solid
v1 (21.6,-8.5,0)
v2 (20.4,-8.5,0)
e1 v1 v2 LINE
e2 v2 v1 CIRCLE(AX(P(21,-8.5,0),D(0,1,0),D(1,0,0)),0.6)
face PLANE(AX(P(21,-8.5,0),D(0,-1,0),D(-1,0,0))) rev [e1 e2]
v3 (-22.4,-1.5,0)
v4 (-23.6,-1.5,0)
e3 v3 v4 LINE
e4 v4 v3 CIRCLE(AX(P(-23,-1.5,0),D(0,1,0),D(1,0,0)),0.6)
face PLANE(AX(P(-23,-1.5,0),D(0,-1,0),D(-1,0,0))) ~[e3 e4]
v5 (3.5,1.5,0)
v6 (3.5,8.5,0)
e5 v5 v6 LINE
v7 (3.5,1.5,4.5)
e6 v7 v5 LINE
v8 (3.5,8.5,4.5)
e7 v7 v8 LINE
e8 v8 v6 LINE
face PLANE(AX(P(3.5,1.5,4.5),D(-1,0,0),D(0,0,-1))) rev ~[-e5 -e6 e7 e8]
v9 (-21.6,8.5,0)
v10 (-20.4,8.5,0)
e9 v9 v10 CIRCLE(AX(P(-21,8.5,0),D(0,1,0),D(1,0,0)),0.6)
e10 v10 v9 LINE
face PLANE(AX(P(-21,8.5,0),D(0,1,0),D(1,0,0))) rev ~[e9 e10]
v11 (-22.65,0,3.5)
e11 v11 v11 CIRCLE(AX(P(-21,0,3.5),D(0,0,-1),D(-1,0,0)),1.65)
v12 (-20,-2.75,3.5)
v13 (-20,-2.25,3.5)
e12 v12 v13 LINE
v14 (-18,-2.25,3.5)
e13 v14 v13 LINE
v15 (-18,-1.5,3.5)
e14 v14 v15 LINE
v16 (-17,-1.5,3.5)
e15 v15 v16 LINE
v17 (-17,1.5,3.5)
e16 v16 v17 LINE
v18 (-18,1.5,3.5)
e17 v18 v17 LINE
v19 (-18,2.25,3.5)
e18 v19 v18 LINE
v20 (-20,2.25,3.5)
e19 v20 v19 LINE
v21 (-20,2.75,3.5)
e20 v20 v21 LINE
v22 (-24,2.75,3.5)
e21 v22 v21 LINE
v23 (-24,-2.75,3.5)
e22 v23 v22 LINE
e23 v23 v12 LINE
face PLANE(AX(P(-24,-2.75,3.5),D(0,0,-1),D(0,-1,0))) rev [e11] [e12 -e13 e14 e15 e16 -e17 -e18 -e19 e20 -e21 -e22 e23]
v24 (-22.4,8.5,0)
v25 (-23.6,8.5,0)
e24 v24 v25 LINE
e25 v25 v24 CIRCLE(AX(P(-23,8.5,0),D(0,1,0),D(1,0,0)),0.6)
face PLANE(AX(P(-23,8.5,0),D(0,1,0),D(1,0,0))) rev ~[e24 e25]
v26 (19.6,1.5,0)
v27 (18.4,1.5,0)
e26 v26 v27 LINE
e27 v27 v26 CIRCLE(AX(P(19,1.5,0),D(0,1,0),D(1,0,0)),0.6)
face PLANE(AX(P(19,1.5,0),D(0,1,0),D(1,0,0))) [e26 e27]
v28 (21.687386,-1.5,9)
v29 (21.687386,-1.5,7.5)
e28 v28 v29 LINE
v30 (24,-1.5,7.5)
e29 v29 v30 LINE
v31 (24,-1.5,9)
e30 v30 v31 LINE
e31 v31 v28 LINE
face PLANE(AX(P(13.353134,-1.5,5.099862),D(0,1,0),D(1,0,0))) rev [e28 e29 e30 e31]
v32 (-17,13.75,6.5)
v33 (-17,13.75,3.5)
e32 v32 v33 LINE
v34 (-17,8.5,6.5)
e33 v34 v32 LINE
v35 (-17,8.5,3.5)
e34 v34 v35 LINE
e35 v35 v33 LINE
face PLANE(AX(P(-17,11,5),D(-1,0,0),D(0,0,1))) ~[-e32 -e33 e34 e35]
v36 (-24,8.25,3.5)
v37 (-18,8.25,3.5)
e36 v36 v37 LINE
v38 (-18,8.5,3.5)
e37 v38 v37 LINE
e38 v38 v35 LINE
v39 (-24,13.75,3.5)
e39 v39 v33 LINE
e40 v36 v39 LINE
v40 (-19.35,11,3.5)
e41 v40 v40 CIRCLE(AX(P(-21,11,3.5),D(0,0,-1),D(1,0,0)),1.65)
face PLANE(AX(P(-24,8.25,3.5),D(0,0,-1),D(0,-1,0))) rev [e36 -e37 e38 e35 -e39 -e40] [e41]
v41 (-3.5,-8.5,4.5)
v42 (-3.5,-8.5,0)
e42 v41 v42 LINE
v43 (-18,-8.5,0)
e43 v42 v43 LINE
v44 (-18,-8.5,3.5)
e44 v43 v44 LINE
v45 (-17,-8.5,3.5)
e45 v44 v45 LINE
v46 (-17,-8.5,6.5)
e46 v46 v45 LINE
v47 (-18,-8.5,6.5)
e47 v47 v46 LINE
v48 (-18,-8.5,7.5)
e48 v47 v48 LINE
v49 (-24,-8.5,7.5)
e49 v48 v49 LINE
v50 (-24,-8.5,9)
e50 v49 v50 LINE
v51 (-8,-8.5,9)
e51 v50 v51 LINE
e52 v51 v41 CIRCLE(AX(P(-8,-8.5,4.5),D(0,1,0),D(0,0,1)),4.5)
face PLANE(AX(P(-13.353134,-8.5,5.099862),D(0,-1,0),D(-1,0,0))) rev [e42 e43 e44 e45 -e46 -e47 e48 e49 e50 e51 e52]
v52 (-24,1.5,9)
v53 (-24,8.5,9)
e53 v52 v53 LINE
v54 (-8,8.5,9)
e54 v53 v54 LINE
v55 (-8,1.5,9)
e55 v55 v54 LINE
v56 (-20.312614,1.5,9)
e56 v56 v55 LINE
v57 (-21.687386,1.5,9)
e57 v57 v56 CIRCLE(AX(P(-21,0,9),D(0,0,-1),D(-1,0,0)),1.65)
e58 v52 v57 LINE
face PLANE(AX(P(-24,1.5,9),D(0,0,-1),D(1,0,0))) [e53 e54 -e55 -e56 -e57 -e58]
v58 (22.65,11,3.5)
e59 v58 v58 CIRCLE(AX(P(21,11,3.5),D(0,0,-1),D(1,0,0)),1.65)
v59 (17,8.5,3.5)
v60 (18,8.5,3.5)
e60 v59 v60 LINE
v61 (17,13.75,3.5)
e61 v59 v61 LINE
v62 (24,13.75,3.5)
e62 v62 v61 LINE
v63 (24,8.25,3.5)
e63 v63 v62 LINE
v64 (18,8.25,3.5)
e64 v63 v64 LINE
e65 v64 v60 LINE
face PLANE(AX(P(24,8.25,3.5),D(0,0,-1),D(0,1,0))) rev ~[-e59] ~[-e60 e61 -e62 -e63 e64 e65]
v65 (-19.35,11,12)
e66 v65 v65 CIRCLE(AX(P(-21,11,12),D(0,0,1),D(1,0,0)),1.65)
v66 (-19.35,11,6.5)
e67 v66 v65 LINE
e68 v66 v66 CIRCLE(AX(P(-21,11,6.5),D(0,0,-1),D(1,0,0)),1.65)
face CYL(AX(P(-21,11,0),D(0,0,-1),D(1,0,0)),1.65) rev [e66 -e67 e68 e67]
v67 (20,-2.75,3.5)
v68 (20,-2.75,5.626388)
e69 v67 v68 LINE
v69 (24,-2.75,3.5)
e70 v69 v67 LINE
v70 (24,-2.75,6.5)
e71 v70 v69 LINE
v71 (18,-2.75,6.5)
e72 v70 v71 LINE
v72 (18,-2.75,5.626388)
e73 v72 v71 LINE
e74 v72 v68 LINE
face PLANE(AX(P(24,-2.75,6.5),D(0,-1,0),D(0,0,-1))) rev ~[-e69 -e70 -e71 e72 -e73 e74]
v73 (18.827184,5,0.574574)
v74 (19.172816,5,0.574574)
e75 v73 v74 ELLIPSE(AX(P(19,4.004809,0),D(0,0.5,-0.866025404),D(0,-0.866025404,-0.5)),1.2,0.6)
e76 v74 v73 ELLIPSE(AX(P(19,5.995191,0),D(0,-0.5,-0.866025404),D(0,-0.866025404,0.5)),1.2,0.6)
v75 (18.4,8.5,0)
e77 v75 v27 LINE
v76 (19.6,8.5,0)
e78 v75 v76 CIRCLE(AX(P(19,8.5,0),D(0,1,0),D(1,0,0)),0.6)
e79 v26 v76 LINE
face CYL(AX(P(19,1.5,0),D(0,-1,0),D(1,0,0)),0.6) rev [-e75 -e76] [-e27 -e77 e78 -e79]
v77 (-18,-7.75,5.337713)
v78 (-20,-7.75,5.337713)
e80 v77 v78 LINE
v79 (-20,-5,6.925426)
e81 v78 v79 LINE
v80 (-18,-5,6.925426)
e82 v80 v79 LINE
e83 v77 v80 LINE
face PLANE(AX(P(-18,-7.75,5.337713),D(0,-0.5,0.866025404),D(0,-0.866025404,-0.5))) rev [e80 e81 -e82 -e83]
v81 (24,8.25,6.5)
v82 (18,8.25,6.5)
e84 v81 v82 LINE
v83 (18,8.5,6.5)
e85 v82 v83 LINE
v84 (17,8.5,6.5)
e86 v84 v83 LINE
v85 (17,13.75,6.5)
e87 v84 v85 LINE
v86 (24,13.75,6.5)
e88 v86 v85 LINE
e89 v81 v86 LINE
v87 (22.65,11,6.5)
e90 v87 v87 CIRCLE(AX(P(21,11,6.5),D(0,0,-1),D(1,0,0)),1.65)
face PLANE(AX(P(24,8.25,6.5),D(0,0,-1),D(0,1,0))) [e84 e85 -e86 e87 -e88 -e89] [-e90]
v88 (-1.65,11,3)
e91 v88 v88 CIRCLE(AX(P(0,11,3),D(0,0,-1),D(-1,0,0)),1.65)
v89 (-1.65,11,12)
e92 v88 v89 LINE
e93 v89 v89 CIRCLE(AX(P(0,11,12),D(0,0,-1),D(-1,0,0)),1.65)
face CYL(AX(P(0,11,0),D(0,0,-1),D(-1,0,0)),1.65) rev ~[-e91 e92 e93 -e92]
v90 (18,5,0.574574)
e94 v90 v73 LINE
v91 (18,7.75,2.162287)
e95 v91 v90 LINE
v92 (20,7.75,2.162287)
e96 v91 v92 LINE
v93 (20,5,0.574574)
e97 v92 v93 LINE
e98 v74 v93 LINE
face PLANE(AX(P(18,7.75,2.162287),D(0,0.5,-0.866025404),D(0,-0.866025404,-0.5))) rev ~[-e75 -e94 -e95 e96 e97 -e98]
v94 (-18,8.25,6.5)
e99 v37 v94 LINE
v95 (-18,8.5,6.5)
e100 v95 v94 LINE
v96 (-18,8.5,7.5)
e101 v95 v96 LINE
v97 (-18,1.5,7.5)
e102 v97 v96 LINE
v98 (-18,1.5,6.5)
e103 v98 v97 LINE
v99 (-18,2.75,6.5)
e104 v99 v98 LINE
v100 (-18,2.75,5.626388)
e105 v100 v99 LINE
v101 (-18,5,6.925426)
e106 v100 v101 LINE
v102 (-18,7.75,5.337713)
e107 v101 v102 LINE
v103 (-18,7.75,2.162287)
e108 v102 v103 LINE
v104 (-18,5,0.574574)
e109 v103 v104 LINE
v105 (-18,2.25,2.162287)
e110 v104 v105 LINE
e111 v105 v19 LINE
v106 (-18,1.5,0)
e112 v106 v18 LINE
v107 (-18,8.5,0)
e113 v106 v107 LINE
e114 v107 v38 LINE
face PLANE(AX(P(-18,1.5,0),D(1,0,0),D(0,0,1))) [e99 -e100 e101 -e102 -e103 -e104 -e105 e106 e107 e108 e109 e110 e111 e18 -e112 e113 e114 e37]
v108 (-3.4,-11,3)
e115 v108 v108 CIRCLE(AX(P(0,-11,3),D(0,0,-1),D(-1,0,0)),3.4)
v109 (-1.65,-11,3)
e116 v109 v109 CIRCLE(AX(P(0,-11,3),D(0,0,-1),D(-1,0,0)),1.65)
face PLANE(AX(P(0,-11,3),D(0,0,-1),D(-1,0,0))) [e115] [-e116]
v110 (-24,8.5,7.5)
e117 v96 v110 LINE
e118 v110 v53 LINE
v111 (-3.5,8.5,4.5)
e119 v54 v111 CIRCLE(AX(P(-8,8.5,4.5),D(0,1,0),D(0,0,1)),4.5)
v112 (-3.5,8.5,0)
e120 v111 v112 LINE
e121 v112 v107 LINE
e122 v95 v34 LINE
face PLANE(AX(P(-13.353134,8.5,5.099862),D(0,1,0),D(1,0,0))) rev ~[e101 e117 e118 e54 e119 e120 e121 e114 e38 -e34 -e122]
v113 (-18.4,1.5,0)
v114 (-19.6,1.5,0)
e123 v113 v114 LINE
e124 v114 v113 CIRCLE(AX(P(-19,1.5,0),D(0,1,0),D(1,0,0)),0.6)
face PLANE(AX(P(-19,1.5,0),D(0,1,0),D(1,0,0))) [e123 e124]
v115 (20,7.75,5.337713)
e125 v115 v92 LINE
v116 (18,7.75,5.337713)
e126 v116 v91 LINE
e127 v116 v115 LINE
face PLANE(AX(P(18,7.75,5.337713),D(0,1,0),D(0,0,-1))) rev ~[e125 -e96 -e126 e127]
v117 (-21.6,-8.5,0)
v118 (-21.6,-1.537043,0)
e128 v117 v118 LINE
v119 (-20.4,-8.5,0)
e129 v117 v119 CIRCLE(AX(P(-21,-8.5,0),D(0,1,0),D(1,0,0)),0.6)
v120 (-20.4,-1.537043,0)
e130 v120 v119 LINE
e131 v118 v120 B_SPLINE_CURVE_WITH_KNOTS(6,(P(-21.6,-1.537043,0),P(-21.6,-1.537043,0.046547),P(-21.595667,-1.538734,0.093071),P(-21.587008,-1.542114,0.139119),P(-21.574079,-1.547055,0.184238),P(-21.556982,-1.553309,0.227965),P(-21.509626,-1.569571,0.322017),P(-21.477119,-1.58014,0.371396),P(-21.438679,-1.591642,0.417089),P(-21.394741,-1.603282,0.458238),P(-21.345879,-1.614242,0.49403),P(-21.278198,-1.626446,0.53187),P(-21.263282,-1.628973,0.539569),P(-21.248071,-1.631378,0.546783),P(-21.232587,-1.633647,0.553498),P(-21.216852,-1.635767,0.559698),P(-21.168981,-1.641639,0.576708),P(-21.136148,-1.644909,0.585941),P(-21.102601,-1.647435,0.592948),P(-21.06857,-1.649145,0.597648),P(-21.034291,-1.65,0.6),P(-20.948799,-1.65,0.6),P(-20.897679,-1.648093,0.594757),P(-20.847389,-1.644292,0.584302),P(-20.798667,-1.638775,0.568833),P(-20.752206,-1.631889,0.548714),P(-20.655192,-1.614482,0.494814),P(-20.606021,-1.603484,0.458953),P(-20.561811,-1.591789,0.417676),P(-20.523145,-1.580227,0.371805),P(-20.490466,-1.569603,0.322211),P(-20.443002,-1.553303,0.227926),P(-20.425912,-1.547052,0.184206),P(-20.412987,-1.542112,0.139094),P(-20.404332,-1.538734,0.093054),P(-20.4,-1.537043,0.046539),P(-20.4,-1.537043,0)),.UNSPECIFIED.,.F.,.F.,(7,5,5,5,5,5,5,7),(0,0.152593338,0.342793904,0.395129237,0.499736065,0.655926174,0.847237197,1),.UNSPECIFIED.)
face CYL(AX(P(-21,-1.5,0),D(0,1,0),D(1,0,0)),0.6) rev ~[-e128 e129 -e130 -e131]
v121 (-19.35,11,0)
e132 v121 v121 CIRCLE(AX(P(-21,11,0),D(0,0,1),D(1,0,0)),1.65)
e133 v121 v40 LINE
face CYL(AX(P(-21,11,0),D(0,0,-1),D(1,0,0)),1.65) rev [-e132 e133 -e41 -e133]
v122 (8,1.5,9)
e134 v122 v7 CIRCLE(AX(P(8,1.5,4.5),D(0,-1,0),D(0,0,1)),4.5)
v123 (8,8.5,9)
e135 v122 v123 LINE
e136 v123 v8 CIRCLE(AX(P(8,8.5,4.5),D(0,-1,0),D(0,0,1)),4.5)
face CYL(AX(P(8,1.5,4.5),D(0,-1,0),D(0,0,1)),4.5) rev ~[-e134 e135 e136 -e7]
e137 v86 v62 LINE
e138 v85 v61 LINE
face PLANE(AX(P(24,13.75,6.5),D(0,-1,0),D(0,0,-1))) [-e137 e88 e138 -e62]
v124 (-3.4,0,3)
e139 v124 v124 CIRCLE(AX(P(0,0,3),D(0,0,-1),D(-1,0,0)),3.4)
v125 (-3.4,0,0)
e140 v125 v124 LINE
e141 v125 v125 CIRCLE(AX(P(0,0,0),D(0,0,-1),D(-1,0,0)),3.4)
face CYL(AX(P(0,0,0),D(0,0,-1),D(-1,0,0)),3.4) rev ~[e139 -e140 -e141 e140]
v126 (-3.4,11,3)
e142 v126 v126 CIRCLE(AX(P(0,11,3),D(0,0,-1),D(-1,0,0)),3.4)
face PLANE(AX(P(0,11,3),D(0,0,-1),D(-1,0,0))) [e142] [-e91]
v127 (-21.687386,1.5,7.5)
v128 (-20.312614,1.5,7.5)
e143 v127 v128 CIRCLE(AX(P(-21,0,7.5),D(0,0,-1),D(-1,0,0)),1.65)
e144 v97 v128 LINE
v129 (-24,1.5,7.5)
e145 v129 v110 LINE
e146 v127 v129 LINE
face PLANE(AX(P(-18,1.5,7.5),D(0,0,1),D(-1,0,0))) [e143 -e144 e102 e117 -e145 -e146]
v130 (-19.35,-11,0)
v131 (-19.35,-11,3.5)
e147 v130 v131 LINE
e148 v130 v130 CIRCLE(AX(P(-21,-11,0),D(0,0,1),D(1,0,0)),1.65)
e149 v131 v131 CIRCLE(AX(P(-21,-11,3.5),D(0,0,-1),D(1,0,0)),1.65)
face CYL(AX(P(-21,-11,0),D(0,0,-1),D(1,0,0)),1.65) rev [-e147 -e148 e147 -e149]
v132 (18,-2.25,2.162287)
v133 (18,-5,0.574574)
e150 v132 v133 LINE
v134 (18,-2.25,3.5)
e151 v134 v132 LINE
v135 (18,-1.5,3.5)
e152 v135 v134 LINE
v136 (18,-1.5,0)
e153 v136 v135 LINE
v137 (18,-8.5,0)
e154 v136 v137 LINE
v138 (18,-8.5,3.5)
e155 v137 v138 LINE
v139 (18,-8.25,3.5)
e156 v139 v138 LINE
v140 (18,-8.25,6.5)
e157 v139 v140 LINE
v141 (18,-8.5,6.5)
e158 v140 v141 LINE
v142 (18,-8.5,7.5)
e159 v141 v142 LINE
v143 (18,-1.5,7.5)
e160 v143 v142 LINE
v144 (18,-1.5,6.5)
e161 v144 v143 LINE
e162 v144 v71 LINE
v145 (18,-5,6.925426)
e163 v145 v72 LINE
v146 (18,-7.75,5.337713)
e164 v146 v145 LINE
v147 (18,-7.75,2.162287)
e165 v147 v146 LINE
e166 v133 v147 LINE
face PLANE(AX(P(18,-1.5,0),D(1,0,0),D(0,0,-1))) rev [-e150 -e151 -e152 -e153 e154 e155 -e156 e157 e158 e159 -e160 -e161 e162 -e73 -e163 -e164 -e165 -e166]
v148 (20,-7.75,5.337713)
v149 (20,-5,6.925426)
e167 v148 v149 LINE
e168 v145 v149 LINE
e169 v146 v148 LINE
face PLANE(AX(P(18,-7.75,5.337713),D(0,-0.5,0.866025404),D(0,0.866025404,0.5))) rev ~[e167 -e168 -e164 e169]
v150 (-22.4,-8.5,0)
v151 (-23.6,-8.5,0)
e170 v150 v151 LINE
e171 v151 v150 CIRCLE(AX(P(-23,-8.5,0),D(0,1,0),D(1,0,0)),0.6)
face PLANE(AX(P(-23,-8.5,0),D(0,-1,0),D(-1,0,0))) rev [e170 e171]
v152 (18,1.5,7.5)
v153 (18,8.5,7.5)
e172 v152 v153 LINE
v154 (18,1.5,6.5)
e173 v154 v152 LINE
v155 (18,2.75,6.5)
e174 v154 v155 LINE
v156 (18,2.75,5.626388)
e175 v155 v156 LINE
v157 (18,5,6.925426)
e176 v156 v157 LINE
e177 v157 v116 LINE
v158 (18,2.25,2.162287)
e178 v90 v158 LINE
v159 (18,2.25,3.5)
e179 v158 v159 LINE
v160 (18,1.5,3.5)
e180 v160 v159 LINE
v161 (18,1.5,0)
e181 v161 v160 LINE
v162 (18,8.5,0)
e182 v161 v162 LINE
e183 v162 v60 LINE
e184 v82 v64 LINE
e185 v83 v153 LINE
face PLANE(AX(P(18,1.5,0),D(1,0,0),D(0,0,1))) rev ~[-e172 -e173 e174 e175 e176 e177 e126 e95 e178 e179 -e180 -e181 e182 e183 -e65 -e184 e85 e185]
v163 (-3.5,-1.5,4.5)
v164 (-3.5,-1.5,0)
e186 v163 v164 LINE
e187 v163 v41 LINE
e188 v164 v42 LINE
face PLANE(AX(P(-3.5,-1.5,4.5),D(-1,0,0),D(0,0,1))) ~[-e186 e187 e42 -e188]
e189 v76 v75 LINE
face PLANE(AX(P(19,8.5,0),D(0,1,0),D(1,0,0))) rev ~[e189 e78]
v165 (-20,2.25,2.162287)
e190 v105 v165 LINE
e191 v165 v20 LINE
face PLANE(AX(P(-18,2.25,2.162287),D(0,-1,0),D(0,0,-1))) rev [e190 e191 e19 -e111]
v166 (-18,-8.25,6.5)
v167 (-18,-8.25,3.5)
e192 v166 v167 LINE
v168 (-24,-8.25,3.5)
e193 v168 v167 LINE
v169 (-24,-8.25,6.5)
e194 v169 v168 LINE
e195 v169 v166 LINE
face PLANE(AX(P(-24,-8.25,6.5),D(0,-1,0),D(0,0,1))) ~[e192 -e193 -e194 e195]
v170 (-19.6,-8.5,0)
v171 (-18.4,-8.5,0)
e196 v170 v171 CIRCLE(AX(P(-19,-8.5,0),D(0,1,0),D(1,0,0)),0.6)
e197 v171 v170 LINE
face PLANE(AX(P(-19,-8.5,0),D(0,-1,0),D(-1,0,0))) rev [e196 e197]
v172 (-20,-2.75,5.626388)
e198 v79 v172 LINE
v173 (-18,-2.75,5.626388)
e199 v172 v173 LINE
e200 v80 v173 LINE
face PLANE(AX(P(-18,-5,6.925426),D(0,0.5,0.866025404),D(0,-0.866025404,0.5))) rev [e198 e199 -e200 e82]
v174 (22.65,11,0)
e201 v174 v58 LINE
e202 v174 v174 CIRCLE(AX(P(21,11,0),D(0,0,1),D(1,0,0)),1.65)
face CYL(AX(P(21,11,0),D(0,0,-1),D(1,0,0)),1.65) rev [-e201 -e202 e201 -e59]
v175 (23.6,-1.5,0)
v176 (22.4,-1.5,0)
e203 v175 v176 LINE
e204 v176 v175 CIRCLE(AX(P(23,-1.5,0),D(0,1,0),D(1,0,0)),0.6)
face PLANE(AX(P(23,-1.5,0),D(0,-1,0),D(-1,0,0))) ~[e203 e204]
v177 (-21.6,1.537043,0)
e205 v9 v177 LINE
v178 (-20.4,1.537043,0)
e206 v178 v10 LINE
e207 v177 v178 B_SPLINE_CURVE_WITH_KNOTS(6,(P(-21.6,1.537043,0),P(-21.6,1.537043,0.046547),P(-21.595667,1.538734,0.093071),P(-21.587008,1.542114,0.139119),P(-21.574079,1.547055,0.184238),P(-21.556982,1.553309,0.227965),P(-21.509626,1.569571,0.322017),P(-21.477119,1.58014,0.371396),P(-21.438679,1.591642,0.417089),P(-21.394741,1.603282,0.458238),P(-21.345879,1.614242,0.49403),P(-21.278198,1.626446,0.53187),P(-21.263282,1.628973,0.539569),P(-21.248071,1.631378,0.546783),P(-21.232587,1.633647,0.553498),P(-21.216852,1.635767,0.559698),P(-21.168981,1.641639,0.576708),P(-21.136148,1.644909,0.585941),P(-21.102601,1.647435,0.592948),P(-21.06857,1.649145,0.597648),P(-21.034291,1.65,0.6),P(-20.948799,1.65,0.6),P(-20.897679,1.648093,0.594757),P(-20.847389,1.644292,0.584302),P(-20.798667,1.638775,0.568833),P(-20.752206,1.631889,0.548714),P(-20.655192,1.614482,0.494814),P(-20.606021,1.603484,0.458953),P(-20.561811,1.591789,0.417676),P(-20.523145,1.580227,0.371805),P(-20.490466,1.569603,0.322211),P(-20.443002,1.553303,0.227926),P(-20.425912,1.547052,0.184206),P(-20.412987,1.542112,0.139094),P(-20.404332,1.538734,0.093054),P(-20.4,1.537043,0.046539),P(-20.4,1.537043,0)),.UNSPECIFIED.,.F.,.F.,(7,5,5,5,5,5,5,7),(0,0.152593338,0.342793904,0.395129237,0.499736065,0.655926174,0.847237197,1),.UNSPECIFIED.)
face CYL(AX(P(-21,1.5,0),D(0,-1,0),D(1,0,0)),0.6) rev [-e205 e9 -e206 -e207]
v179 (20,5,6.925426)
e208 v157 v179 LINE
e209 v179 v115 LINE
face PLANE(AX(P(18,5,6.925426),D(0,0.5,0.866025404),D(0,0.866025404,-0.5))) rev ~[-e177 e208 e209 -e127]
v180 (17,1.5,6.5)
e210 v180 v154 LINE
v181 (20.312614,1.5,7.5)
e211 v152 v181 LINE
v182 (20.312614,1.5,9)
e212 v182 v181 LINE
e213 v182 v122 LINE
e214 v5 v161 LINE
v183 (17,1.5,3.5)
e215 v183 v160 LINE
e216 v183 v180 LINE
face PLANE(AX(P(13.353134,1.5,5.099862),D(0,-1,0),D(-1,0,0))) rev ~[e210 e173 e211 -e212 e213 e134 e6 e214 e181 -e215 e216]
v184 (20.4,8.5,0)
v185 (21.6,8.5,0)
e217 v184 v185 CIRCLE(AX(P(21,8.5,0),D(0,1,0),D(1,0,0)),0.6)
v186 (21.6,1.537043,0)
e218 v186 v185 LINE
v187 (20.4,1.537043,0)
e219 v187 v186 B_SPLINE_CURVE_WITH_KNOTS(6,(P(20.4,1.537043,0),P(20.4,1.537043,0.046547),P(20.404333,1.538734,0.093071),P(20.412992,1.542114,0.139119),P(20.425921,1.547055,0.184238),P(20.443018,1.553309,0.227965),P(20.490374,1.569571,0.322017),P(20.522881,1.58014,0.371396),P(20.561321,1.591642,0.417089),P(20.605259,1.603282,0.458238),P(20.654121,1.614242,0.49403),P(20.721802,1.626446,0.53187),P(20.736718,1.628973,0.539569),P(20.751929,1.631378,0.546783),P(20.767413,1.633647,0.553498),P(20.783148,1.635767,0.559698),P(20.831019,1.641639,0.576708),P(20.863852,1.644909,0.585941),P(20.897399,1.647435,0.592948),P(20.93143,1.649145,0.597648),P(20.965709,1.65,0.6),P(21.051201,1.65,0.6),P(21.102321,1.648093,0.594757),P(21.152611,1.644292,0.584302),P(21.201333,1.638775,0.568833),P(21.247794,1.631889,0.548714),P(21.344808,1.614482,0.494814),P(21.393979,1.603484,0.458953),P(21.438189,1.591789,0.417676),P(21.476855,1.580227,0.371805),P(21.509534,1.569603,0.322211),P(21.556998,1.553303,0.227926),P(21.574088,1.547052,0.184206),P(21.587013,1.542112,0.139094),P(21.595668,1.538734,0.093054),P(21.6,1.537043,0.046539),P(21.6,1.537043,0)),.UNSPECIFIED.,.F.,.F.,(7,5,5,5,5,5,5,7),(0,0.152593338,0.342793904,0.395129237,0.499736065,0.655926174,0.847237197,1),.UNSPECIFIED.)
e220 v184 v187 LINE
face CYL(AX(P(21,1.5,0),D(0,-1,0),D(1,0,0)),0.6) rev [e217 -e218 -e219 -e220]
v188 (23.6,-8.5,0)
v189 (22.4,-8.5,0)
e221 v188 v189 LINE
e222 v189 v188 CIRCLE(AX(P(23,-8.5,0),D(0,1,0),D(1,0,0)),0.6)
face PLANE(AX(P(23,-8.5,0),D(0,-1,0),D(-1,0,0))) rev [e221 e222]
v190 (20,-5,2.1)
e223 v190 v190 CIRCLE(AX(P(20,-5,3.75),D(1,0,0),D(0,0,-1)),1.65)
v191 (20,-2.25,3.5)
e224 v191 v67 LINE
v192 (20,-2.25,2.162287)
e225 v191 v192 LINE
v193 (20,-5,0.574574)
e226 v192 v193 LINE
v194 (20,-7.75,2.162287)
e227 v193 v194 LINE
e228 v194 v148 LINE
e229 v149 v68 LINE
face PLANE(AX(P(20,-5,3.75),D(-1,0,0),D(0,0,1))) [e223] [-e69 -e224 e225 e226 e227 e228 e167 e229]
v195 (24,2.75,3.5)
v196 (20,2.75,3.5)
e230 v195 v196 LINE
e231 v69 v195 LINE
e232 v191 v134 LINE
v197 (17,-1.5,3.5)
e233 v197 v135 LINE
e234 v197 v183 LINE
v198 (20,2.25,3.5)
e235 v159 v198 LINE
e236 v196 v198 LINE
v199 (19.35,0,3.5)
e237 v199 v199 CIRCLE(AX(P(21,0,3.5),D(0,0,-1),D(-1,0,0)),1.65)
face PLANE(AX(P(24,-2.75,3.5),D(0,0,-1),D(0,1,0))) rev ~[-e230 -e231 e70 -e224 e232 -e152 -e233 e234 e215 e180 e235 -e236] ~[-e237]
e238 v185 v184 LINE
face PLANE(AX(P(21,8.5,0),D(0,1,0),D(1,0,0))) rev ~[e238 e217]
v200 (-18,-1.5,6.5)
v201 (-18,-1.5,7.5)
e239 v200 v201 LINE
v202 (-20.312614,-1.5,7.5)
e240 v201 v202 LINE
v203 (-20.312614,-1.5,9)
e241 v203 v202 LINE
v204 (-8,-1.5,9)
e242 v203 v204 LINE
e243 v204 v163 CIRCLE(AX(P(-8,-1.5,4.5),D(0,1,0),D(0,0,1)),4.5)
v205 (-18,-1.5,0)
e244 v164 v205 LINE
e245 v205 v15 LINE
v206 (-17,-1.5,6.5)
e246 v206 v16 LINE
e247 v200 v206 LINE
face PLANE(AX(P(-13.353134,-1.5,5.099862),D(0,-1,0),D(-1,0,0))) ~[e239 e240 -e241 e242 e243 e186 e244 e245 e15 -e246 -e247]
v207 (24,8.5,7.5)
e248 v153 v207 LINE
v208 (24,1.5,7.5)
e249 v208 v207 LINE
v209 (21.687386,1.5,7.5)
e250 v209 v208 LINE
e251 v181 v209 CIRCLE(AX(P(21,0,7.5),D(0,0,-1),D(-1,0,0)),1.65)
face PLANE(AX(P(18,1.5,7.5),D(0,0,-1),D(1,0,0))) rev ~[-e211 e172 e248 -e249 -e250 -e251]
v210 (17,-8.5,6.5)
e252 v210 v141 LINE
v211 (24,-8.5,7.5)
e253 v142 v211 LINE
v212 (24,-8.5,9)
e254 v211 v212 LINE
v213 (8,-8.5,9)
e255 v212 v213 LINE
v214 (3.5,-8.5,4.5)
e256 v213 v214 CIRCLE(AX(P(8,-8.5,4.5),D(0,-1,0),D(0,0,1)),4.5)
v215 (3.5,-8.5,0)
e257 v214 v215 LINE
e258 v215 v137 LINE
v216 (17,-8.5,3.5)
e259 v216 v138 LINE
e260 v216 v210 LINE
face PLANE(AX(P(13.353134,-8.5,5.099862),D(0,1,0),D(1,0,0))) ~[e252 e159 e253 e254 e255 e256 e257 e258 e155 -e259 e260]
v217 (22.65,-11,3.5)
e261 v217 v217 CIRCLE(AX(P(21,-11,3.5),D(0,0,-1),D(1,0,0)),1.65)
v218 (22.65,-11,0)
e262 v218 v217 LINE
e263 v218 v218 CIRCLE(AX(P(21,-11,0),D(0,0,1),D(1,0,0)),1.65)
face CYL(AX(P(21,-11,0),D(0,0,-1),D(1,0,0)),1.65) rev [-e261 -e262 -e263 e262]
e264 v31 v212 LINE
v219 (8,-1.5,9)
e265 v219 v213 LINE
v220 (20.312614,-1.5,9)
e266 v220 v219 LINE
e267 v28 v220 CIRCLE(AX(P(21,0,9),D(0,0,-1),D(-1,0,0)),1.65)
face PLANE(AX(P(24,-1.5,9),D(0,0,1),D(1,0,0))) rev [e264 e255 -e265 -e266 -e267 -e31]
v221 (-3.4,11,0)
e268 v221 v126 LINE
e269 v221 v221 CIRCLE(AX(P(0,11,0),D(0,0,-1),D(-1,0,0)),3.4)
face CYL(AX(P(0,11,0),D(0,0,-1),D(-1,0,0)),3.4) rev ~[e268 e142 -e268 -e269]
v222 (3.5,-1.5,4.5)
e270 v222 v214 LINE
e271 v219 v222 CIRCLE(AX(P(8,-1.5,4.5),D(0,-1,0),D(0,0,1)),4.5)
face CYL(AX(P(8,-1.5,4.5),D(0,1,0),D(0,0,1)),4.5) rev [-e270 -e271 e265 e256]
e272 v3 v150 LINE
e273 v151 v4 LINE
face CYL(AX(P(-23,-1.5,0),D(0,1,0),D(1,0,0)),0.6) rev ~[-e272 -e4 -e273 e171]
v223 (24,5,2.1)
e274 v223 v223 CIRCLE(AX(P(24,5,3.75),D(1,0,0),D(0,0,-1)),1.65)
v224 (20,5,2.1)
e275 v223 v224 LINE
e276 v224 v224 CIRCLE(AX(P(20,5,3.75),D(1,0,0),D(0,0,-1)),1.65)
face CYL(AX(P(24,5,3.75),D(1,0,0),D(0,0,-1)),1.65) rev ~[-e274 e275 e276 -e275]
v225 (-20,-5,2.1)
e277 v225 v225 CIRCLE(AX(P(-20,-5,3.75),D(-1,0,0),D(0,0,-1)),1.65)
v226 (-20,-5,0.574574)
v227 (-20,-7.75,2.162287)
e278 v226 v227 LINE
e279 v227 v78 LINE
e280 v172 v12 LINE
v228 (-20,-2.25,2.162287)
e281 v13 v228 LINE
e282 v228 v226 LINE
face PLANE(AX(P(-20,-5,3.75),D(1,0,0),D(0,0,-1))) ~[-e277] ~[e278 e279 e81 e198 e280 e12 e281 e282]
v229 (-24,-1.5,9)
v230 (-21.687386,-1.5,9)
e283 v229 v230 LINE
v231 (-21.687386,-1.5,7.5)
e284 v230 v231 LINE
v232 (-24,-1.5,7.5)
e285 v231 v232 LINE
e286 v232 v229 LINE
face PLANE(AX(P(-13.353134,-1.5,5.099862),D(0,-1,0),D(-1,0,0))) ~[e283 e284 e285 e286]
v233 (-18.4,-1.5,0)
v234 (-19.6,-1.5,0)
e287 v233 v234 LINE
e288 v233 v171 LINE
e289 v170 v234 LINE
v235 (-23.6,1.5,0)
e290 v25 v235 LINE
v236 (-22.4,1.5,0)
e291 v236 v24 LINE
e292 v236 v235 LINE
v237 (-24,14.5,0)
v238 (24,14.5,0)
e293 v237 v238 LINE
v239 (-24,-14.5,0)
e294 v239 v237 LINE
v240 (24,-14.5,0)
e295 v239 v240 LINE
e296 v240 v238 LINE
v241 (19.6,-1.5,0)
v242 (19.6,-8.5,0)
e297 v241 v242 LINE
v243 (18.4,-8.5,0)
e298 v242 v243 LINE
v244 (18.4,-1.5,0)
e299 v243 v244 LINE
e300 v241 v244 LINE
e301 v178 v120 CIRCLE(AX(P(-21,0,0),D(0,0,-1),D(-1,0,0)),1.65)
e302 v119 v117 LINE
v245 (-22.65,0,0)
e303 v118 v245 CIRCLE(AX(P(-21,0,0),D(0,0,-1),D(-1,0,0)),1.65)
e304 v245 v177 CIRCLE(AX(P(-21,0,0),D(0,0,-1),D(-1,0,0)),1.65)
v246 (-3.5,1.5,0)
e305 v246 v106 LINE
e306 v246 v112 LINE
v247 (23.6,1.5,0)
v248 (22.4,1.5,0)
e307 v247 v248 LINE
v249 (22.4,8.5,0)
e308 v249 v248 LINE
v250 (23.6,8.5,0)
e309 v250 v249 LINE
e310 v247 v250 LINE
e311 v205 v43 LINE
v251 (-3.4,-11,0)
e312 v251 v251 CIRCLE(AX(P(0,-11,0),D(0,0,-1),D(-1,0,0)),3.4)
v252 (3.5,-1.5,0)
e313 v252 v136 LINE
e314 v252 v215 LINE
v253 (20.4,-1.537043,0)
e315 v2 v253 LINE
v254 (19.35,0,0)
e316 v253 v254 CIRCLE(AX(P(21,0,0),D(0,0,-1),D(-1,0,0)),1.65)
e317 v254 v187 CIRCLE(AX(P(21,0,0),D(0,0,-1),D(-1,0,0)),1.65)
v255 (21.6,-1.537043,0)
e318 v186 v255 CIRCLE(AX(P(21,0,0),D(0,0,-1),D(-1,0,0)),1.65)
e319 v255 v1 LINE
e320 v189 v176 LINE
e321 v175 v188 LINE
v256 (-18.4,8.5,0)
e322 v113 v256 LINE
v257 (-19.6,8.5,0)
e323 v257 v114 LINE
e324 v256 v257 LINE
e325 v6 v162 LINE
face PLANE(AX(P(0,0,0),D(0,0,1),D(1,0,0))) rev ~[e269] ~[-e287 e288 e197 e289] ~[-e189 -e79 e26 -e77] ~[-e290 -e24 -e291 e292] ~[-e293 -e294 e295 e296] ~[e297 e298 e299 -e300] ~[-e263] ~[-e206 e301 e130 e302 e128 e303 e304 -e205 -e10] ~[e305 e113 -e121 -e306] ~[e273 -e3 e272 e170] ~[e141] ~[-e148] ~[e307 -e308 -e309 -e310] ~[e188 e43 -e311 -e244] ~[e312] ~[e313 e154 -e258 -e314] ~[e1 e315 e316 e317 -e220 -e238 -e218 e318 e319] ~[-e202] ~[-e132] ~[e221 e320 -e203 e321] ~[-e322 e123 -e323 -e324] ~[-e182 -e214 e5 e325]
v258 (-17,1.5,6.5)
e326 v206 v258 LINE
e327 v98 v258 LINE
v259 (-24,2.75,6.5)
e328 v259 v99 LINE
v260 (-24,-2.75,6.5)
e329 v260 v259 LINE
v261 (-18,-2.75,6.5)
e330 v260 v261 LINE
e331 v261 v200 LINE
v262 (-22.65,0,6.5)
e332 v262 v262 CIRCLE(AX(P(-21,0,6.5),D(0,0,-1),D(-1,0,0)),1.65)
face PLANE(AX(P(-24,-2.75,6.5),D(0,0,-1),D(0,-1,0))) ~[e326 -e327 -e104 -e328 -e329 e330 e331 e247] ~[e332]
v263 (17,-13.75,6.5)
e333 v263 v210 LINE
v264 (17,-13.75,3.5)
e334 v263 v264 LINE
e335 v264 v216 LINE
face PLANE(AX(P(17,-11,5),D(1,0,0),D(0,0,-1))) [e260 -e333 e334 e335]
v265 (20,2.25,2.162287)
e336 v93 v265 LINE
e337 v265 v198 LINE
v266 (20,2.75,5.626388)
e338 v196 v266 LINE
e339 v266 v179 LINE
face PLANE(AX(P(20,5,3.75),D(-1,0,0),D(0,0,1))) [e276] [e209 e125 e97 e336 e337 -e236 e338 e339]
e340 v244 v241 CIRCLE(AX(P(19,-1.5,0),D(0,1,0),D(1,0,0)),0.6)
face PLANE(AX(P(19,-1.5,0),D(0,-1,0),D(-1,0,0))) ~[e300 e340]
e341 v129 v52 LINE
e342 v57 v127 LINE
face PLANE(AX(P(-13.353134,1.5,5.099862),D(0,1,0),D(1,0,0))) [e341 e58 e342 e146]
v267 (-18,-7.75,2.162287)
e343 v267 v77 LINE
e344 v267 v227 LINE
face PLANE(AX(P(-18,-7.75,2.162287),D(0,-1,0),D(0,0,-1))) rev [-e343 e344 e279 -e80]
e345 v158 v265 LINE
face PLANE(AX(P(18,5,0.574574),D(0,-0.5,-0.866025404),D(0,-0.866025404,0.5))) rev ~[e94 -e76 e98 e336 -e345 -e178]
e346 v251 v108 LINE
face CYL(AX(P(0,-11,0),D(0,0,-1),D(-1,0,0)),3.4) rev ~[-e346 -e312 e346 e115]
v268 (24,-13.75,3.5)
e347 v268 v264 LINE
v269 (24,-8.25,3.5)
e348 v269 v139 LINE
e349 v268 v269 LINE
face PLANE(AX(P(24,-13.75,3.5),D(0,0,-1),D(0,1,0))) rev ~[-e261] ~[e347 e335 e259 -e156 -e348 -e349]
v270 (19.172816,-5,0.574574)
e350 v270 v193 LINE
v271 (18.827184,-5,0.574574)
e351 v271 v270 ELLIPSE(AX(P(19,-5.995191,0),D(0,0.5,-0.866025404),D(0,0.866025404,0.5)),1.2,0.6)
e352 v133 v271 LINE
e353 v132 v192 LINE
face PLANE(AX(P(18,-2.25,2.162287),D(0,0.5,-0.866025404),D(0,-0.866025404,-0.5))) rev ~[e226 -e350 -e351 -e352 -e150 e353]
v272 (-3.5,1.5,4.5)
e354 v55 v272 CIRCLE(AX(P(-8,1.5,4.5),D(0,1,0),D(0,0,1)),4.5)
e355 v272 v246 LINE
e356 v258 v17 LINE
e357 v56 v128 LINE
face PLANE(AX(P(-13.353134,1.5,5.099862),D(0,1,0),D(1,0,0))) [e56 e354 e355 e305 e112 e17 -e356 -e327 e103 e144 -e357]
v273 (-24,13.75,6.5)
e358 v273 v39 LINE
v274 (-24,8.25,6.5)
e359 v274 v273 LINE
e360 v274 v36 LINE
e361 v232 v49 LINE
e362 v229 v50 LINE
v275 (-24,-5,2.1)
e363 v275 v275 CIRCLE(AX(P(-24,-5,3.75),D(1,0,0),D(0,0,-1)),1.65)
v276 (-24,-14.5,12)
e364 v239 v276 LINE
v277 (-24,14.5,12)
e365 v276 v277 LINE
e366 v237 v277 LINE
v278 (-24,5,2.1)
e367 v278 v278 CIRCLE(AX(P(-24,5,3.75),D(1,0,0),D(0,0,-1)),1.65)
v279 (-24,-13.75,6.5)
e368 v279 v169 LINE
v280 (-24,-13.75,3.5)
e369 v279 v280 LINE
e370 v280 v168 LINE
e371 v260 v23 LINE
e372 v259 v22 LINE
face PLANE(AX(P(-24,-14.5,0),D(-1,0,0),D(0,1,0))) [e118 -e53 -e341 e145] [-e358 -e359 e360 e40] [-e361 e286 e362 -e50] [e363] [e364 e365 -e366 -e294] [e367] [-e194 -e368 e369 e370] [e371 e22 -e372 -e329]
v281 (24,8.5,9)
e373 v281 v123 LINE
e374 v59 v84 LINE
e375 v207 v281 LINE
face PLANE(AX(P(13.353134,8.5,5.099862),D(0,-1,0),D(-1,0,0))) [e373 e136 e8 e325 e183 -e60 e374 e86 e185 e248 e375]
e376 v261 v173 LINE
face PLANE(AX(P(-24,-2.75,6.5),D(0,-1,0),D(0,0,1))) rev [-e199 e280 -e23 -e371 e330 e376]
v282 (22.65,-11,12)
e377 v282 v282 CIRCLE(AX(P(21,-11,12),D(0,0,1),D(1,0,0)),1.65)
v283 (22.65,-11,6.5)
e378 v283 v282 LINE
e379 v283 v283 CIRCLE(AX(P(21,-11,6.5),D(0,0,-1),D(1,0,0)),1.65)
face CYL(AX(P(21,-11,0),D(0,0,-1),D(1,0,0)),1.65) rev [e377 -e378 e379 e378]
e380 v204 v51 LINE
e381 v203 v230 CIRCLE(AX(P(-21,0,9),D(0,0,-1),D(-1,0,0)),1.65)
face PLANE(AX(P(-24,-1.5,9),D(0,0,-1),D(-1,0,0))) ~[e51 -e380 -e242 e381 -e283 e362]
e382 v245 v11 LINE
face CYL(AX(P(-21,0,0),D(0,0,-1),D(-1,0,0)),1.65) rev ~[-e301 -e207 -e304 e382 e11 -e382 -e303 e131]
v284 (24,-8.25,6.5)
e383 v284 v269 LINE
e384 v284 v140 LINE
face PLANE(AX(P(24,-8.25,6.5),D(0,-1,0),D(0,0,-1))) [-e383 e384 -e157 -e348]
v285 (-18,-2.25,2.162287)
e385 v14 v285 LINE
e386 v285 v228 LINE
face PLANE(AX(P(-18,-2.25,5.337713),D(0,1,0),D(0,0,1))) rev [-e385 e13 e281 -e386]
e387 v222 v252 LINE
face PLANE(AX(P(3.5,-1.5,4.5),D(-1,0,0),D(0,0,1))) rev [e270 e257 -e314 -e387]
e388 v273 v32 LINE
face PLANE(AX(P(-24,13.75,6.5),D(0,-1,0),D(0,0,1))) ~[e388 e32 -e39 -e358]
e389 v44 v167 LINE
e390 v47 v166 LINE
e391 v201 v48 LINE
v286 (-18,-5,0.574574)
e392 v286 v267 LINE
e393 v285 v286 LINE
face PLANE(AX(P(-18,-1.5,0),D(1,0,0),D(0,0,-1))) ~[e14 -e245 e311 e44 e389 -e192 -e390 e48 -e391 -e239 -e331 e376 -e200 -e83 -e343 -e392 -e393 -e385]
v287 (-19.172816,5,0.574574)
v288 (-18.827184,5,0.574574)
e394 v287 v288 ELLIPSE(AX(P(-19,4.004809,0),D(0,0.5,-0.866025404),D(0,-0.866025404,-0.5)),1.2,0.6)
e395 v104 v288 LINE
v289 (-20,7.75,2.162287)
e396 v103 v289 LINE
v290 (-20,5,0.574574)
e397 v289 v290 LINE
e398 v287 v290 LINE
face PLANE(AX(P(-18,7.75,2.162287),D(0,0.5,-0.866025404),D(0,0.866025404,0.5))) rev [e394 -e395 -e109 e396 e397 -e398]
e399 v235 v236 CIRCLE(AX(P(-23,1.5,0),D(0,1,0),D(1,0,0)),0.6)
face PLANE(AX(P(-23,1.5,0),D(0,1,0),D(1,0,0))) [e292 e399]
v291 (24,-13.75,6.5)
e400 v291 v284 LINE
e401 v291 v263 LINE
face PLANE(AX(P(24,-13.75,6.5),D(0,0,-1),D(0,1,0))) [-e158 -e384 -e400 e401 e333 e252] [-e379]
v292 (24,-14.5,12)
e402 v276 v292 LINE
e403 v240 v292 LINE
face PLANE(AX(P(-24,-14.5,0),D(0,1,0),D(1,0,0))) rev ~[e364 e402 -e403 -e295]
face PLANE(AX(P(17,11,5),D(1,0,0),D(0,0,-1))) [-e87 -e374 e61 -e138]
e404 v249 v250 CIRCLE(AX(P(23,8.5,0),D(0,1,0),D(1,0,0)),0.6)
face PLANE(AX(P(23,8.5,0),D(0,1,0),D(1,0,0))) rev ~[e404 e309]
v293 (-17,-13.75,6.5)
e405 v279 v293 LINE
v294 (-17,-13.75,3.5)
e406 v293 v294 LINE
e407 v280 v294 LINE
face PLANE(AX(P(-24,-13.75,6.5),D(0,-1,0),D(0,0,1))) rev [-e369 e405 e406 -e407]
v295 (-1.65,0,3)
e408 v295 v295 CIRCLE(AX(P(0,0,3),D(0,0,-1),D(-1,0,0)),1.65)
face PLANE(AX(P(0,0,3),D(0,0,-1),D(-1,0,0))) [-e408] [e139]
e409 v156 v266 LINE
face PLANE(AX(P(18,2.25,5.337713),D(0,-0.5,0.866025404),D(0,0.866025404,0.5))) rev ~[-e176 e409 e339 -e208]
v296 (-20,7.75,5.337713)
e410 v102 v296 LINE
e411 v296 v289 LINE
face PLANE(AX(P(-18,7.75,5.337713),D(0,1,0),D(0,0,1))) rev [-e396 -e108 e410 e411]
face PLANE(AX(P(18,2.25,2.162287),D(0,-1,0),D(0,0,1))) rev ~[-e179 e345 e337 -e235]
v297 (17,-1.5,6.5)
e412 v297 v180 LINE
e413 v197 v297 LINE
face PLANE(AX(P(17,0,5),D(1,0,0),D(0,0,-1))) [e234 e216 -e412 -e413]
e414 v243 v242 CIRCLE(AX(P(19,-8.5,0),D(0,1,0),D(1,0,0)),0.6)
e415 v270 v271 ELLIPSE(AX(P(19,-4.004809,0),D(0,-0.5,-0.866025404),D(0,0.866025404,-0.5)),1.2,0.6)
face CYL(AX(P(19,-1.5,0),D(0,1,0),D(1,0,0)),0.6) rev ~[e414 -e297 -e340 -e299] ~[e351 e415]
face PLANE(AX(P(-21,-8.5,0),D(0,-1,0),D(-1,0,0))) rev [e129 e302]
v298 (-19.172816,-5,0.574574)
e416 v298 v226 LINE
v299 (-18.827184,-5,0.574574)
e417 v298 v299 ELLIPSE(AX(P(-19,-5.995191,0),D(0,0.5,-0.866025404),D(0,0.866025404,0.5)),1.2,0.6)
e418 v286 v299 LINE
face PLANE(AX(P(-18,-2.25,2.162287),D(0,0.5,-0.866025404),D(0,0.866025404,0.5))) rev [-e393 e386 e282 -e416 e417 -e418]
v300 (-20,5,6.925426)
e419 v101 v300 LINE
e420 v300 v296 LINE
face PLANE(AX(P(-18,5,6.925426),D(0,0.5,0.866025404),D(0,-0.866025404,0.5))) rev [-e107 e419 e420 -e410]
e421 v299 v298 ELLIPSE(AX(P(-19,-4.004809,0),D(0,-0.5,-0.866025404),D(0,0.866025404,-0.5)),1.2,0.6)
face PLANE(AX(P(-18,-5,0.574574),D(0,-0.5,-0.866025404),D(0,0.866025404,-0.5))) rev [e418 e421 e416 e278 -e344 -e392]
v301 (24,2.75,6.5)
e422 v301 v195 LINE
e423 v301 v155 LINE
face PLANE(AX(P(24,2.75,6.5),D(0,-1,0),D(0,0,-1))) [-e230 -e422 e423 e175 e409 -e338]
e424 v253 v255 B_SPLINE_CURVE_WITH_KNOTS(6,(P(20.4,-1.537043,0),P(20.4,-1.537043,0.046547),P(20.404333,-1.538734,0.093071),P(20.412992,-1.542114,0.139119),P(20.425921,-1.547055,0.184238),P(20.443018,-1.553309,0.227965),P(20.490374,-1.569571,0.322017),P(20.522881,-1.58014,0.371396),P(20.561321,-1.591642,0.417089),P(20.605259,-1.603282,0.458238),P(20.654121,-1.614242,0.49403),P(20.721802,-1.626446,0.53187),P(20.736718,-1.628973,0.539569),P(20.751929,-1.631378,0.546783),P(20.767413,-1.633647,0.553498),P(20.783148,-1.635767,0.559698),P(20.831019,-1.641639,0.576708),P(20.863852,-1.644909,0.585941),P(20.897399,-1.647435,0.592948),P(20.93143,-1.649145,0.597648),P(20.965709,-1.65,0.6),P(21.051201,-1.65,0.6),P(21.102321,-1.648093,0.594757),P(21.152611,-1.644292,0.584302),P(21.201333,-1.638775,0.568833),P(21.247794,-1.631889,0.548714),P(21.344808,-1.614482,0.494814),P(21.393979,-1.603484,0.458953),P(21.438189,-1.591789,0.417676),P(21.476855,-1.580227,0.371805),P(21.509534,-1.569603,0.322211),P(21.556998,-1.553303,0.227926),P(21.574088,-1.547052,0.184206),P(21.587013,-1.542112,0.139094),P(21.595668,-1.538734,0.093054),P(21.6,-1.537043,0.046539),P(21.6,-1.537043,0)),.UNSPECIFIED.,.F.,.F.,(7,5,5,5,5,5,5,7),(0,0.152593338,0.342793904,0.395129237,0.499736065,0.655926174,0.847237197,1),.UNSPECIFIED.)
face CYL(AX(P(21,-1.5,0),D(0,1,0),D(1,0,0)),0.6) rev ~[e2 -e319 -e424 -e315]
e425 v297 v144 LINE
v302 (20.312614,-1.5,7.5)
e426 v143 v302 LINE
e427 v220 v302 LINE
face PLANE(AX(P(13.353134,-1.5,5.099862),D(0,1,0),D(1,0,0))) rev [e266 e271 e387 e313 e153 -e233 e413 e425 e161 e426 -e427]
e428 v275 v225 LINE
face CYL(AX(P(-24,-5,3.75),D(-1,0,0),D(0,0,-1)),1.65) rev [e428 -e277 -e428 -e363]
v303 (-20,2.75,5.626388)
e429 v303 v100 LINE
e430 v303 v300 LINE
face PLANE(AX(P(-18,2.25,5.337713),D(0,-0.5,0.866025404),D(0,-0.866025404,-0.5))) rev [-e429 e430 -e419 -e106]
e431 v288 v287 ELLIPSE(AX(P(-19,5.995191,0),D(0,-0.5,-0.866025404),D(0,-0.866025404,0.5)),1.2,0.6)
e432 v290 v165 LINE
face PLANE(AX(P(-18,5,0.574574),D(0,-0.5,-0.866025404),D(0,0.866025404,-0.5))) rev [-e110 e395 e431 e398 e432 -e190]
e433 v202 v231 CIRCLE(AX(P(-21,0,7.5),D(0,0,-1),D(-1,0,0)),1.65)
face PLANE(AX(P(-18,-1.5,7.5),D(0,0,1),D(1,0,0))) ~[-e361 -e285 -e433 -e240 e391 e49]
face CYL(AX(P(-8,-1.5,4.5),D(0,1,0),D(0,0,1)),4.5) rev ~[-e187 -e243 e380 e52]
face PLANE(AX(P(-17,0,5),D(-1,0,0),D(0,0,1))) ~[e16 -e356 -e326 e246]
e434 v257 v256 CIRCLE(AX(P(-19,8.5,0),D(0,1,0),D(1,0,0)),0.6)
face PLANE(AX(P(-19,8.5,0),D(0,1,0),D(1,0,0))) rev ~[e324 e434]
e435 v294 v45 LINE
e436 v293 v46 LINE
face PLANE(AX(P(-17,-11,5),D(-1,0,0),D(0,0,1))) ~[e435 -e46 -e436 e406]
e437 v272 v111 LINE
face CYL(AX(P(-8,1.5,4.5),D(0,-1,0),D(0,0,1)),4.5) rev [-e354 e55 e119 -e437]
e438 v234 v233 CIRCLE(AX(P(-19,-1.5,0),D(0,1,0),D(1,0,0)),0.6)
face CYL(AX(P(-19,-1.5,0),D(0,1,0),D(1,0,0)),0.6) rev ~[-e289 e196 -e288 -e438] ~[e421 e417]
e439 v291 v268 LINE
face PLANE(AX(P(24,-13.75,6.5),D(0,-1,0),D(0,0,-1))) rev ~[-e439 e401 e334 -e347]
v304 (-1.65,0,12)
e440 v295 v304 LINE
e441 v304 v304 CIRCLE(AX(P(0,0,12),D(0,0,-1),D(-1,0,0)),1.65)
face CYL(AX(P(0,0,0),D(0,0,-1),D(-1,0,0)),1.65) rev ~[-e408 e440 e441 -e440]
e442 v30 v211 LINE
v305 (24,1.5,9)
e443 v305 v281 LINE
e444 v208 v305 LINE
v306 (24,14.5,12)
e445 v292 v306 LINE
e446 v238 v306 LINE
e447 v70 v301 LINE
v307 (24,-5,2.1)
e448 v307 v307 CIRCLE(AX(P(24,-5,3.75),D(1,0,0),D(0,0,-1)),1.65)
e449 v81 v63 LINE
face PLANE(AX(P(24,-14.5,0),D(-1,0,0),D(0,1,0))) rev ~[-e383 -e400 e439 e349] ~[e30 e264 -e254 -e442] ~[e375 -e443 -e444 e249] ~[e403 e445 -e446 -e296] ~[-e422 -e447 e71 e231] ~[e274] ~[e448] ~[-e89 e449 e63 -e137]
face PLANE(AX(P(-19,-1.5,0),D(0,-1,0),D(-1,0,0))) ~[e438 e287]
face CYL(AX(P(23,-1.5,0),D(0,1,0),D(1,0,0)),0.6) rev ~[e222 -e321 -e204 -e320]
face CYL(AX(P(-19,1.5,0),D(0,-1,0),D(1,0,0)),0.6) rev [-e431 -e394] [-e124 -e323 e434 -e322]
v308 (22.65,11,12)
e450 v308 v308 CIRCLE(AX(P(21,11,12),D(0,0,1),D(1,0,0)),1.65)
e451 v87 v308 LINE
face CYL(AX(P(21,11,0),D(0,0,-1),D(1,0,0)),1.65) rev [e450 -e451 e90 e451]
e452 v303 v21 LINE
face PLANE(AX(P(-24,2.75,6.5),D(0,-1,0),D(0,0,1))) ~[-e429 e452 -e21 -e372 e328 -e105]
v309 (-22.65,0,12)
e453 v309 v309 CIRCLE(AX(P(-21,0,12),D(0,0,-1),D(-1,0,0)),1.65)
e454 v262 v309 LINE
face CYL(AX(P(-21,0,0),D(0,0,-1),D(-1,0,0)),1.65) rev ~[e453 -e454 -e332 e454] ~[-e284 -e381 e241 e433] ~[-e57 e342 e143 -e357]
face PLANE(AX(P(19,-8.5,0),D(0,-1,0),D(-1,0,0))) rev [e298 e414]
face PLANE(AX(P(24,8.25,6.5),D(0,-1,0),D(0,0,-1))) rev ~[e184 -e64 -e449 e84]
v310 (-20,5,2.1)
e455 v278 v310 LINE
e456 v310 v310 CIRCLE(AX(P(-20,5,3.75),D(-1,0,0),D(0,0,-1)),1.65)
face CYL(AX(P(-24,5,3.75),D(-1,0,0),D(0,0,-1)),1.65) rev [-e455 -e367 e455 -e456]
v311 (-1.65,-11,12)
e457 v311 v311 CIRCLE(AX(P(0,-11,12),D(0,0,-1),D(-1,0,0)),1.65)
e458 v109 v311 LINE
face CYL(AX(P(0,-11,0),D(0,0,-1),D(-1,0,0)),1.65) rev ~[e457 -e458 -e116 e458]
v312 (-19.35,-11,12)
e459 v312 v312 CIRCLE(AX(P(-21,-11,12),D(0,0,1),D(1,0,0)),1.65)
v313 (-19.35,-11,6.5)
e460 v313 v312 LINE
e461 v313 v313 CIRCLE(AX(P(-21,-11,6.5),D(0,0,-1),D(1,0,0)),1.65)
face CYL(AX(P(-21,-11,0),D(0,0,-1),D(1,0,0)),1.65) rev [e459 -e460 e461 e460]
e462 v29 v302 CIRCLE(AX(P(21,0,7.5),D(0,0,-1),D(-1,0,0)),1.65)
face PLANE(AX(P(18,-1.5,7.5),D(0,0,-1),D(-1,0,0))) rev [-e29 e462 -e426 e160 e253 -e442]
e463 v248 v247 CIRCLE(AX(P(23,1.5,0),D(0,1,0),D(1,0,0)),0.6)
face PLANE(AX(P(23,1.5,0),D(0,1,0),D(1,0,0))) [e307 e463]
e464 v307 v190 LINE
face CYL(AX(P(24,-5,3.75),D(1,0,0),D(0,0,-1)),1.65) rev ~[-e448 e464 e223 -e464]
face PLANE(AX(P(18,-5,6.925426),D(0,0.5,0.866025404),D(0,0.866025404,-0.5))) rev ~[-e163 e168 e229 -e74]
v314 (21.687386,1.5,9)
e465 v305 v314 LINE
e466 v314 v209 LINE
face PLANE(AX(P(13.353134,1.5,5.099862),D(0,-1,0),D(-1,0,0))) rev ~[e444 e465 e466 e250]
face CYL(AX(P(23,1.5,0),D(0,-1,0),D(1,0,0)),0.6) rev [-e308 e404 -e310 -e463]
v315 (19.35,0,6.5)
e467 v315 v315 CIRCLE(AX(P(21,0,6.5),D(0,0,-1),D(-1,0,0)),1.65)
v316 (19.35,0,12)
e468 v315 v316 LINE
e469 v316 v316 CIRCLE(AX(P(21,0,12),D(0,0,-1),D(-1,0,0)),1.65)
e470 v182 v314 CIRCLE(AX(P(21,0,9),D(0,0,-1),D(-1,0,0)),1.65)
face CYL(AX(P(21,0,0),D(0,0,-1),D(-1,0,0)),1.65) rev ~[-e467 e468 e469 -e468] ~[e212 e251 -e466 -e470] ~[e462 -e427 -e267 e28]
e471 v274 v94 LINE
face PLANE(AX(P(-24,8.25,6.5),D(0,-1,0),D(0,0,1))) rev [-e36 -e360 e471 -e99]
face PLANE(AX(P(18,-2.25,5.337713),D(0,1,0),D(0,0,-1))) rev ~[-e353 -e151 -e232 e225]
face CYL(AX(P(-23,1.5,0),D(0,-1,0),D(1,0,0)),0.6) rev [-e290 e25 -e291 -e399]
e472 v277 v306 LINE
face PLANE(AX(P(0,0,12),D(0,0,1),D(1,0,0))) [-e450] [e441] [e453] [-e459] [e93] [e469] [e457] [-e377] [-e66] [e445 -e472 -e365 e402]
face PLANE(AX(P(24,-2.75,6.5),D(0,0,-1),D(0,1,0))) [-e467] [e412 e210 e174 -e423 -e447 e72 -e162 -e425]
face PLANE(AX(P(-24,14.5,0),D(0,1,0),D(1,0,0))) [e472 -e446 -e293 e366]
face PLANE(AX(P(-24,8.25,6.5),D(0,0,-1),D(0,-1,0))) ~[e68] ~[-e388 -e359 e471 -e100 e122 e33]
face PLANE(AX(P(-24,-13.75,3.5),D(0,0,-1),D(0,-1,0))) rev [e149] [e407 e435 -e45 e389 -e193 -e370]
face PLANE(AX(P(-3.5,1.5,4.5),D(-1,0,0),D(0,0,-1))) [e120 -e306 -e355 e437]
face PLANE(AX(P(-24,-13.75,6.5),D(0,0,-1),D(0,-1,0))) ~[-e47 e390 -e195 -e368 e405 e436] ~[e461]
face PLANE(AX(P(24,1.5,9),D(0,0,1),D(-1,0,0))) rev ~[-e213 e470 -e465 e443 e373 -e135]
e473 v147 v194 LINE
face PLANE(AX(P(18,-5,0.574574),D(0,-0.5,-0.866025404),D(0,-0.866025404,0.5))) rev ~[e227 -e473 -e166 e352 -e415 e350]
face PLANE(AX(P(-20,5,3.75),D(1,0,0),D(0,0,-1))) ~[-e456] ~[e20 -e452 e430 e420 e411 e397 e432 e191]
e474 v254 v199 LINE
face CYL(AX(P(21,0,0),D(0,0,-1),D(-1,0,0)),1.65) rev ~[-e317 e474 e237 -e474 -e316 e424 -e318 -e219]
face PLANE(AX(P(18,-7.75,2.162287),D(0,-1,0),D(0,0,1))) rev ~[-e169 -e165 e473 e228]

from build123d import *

# Parameters (mm, degrees)
ESBO_O1_W                = 48
ESBO_O1_H                = 29
ESBO_O1_R                = 1.65
RESSALTO_EXTRUS_O1_DEPTH = 12
CORTE_EXTRUS_O3_START    = 1.5
ESBO_O2_R                = 0.6
CORTE_EXTRUS_O3_DEPTH    = 7
ESBO_O3_R                = 1.65
CORTE_EXTRUS_O4_DEPTH    = 16
CORTE_EXTRUS_O5_DEPTH    = 2
ESBO_O5_W                = 3
ESBO_O5_H                = 5.5
CORTE_EXTRUS_O6_DEPTH    = 7
ESBO_O6_R                = 1.65
CORTE_EXTRUS_O7_DEPTH    = 13
ESBO_O7_R                = 3.4
CORTE_EXTRUS_O9_DEPTH    = 3


with BuildPart() as part:
    # Esboço1 → Ressalto-extrusão1 (new body)
    with BuildSketch(Plane.XY):
        Rectangle(ESBO_O1_W, ESBO_O1_H)
        with Locations((-21, 11)):
            Circle(ESBO_O1_R, mode=Mode.SUBTRACT)
        with Locations((-21, -11)):
            Circle(ESBO_O1_R, mode=Mode.SUBTRACT)
        with Locations((21, -11)):
            Circle(ESBO_O1_R, mode=Mode.SUBTRACT)
        with Locations((21, 11)):
            Circle(ESBO_O1_R, mode=Mode.SUBTRACT)
    extrude(amount=RESSALTO_EXTRUS_O1_DEPTH)

    # Esboço2 → Corte-extrusão3 (cut)
    with BuildSketch(Plane(origin=(0, 0, 0), x_dir=(1, 0, 0), z_dir=(0, 1, 0)).offset(CORTE_EXTRUS_O3_START)):
        with Locations((-23, 0)):
            Circle(ESBO_O2_R)
        with Locations((-21, 0)):
            Circle(ESBO_O2_R)
        with Locations((-19, 0)):
            Circle(ESBO_O2_R)
        with Locations((19, 0)):
            Circle(ESBO_O2_R)
        with Locations((21, 0)):
            Circle(ESBO_O2_R)
        with Locations((23, 0)):
            Circle(ESBO_O2_R)
        with BuildLine():
            Line((-24, -9), (-8, -9))
            ThreePointArc((-8, -9), (-4.818019485, -7.681980515), (-3.5, -4.5))
            Line((-3.5, -4.5), (-3.5, 0))
            Line((-3.5, 0), (-18, 0))
            Line((-18, 0), (-18, -7.5))
            Line((-18, -7.5), (-24, -7.5))
            Line((-24, -7.5), (-24, -9))
        make_face()
        with BuildLine():
            Line((24, -7.5), (24, -9))
            Line((24, -9), (8, -9))
            ThreePointArc((8, -9), (4.818019485, -7.681980515), (3.5, -4.5))
            Line((3.5, -4.5), (3.5, 0))
            Line((3.5, 0), (18, 0))
            Line((18, 0), (18, -7.5))
            Line((18, -7.5), (24, -7.5))
        make_face()
    corte_extrus_o3 = extrude(amount=CORTE_EXTRUS_O3_DEPTH, mode=Mode.SUBTRACT)

    # Espelhar1: Corte-extrusão3 across plane
    add(corte_extrus_o3.mirror(Plane.ZX), mode=Mode.SUBTRACT)

    # Esboço3 → Corte-extrusão4 (cut)
    with BuildSketch(Plane(origin=(24, 0, 0), x_dir=(0, 0, -1), z_dir=(1, 0, 0))):
        with Locations((-3.75, 5)):
            Circle(ESBO_O3_R)
        with Locations((-3.75, -5)):
            Circle(ESBO_O3_R)
    corte_extrus_o4 = extrude(amount=-CORTE_EXTRUS_O4_DEPTH, mode=Mode.SUBTRACT)

    # Esboço4 → Corte-extrusão5 (cut)
    with BuildSketch(Plane.ZY.offset(-18)):
        Polygon((6.925426481, 5), (5.33771324, 7.75), (2.16228676, 7.75), (0.574573519, 5), (2.16228676, 2.25), (5.33771324, 2.25), align=None)
        Polygon((6.925426481, -5), (5.33771324, -2.25), (2.16228676, -2.25), (0.574573519, -5), (2.16228676, -7.75), (5.33771324, -7.75), align=None)
    corte_extrus_o5 = extrude(amount=-CORTE_EXTRUS_O5_DEPTH, mode=Mode.SUBTRACT)

    # Esboço5 → Corte-extrusão6 (cut)
    with BuildSketch(Plane(origin=(24, 0, 0), x_dir=(0, 0, -1), z_dir=(1, 0, 0))):
        with Locations((-5, 0)):
            Rectangle(ESBO_O5_W, ESBO_O5_H)
        with Locations((-5, 11)):
            Rectangle(ESBO_O5_W, ESBO_O5_H)
        with Locations((-5, -11)):
            Rectangle(ESBO_O5_W, ESBO_O5_H)
    corte_extrus_o6 = extrude(amount=-CORTE_EXTRUS_O6_DEPTH, mode=Mode.SUBTRACT)

    # Esboço6 → Corte-extrusão7 (cut, through all)
    with BuildSketch(Plane(origin=(0, 0, 0), x_dir=(-1, 0, 0), z_dir=(0, 0, -1))):
        with Locations((-21, 0)):
            Circle(ESBO_O6_R)
        with Locations((21, 0)):
            Circle(ESBO_O6_R)
        Circle(ESBO_O6_R)
        with Locations((0, 11)):
            Circle(ESBO_O6_R)
        with Locations((0, -11)):
            Circle(ESBO_O6_R)
    extrude(amount=-CORTE_EXTRUS_O7_DEPTH, mode=Mode.SUBTRACT)

    # Espelhar2: Corte-extrusão4, Corte-extrusão5, Corte-extrusão6 across plane
    add(corte_extrus_o4.mirror(Plane(origin=(0, 0, 0), x_dir=(0, 0, 1), z_dir=(1, 0, 0))), mode=Mode.SUBTRACT)
    add(corte_extrus_o5.mirror(Plane(origin=(0, 0, 0), x_dir=(0, 0, 1), z_dir=(1, 0, 0))), mode=Mode.SUBTRACT)
    add(corte_extrus_o6.mirror(Plane(origin=(0, 0, 0), x_dir=(0, 0, 1), z_dir=(1, 0, 0))), mode=Mode.SUBTRACT)

    # Esboço7 → Corte-extrusão9 (cut)
    with BuildSketch(Plane(origin=(0, 0, 0), x_dir=(-1, 0, 0), z_dir=(0, 0, -1))):
        with Locations((0, 11)):
            Circle(ESBO_O7_R)
        Circle(ESBO_O7_R)
        with Locations((0, -11)):
            Circle(ESBO_O7_R)
    extrude(amount=-CORTE_EXTRUS_O9_DEPTH, mode=Mode.SUBTRACT)


solid = part.part
